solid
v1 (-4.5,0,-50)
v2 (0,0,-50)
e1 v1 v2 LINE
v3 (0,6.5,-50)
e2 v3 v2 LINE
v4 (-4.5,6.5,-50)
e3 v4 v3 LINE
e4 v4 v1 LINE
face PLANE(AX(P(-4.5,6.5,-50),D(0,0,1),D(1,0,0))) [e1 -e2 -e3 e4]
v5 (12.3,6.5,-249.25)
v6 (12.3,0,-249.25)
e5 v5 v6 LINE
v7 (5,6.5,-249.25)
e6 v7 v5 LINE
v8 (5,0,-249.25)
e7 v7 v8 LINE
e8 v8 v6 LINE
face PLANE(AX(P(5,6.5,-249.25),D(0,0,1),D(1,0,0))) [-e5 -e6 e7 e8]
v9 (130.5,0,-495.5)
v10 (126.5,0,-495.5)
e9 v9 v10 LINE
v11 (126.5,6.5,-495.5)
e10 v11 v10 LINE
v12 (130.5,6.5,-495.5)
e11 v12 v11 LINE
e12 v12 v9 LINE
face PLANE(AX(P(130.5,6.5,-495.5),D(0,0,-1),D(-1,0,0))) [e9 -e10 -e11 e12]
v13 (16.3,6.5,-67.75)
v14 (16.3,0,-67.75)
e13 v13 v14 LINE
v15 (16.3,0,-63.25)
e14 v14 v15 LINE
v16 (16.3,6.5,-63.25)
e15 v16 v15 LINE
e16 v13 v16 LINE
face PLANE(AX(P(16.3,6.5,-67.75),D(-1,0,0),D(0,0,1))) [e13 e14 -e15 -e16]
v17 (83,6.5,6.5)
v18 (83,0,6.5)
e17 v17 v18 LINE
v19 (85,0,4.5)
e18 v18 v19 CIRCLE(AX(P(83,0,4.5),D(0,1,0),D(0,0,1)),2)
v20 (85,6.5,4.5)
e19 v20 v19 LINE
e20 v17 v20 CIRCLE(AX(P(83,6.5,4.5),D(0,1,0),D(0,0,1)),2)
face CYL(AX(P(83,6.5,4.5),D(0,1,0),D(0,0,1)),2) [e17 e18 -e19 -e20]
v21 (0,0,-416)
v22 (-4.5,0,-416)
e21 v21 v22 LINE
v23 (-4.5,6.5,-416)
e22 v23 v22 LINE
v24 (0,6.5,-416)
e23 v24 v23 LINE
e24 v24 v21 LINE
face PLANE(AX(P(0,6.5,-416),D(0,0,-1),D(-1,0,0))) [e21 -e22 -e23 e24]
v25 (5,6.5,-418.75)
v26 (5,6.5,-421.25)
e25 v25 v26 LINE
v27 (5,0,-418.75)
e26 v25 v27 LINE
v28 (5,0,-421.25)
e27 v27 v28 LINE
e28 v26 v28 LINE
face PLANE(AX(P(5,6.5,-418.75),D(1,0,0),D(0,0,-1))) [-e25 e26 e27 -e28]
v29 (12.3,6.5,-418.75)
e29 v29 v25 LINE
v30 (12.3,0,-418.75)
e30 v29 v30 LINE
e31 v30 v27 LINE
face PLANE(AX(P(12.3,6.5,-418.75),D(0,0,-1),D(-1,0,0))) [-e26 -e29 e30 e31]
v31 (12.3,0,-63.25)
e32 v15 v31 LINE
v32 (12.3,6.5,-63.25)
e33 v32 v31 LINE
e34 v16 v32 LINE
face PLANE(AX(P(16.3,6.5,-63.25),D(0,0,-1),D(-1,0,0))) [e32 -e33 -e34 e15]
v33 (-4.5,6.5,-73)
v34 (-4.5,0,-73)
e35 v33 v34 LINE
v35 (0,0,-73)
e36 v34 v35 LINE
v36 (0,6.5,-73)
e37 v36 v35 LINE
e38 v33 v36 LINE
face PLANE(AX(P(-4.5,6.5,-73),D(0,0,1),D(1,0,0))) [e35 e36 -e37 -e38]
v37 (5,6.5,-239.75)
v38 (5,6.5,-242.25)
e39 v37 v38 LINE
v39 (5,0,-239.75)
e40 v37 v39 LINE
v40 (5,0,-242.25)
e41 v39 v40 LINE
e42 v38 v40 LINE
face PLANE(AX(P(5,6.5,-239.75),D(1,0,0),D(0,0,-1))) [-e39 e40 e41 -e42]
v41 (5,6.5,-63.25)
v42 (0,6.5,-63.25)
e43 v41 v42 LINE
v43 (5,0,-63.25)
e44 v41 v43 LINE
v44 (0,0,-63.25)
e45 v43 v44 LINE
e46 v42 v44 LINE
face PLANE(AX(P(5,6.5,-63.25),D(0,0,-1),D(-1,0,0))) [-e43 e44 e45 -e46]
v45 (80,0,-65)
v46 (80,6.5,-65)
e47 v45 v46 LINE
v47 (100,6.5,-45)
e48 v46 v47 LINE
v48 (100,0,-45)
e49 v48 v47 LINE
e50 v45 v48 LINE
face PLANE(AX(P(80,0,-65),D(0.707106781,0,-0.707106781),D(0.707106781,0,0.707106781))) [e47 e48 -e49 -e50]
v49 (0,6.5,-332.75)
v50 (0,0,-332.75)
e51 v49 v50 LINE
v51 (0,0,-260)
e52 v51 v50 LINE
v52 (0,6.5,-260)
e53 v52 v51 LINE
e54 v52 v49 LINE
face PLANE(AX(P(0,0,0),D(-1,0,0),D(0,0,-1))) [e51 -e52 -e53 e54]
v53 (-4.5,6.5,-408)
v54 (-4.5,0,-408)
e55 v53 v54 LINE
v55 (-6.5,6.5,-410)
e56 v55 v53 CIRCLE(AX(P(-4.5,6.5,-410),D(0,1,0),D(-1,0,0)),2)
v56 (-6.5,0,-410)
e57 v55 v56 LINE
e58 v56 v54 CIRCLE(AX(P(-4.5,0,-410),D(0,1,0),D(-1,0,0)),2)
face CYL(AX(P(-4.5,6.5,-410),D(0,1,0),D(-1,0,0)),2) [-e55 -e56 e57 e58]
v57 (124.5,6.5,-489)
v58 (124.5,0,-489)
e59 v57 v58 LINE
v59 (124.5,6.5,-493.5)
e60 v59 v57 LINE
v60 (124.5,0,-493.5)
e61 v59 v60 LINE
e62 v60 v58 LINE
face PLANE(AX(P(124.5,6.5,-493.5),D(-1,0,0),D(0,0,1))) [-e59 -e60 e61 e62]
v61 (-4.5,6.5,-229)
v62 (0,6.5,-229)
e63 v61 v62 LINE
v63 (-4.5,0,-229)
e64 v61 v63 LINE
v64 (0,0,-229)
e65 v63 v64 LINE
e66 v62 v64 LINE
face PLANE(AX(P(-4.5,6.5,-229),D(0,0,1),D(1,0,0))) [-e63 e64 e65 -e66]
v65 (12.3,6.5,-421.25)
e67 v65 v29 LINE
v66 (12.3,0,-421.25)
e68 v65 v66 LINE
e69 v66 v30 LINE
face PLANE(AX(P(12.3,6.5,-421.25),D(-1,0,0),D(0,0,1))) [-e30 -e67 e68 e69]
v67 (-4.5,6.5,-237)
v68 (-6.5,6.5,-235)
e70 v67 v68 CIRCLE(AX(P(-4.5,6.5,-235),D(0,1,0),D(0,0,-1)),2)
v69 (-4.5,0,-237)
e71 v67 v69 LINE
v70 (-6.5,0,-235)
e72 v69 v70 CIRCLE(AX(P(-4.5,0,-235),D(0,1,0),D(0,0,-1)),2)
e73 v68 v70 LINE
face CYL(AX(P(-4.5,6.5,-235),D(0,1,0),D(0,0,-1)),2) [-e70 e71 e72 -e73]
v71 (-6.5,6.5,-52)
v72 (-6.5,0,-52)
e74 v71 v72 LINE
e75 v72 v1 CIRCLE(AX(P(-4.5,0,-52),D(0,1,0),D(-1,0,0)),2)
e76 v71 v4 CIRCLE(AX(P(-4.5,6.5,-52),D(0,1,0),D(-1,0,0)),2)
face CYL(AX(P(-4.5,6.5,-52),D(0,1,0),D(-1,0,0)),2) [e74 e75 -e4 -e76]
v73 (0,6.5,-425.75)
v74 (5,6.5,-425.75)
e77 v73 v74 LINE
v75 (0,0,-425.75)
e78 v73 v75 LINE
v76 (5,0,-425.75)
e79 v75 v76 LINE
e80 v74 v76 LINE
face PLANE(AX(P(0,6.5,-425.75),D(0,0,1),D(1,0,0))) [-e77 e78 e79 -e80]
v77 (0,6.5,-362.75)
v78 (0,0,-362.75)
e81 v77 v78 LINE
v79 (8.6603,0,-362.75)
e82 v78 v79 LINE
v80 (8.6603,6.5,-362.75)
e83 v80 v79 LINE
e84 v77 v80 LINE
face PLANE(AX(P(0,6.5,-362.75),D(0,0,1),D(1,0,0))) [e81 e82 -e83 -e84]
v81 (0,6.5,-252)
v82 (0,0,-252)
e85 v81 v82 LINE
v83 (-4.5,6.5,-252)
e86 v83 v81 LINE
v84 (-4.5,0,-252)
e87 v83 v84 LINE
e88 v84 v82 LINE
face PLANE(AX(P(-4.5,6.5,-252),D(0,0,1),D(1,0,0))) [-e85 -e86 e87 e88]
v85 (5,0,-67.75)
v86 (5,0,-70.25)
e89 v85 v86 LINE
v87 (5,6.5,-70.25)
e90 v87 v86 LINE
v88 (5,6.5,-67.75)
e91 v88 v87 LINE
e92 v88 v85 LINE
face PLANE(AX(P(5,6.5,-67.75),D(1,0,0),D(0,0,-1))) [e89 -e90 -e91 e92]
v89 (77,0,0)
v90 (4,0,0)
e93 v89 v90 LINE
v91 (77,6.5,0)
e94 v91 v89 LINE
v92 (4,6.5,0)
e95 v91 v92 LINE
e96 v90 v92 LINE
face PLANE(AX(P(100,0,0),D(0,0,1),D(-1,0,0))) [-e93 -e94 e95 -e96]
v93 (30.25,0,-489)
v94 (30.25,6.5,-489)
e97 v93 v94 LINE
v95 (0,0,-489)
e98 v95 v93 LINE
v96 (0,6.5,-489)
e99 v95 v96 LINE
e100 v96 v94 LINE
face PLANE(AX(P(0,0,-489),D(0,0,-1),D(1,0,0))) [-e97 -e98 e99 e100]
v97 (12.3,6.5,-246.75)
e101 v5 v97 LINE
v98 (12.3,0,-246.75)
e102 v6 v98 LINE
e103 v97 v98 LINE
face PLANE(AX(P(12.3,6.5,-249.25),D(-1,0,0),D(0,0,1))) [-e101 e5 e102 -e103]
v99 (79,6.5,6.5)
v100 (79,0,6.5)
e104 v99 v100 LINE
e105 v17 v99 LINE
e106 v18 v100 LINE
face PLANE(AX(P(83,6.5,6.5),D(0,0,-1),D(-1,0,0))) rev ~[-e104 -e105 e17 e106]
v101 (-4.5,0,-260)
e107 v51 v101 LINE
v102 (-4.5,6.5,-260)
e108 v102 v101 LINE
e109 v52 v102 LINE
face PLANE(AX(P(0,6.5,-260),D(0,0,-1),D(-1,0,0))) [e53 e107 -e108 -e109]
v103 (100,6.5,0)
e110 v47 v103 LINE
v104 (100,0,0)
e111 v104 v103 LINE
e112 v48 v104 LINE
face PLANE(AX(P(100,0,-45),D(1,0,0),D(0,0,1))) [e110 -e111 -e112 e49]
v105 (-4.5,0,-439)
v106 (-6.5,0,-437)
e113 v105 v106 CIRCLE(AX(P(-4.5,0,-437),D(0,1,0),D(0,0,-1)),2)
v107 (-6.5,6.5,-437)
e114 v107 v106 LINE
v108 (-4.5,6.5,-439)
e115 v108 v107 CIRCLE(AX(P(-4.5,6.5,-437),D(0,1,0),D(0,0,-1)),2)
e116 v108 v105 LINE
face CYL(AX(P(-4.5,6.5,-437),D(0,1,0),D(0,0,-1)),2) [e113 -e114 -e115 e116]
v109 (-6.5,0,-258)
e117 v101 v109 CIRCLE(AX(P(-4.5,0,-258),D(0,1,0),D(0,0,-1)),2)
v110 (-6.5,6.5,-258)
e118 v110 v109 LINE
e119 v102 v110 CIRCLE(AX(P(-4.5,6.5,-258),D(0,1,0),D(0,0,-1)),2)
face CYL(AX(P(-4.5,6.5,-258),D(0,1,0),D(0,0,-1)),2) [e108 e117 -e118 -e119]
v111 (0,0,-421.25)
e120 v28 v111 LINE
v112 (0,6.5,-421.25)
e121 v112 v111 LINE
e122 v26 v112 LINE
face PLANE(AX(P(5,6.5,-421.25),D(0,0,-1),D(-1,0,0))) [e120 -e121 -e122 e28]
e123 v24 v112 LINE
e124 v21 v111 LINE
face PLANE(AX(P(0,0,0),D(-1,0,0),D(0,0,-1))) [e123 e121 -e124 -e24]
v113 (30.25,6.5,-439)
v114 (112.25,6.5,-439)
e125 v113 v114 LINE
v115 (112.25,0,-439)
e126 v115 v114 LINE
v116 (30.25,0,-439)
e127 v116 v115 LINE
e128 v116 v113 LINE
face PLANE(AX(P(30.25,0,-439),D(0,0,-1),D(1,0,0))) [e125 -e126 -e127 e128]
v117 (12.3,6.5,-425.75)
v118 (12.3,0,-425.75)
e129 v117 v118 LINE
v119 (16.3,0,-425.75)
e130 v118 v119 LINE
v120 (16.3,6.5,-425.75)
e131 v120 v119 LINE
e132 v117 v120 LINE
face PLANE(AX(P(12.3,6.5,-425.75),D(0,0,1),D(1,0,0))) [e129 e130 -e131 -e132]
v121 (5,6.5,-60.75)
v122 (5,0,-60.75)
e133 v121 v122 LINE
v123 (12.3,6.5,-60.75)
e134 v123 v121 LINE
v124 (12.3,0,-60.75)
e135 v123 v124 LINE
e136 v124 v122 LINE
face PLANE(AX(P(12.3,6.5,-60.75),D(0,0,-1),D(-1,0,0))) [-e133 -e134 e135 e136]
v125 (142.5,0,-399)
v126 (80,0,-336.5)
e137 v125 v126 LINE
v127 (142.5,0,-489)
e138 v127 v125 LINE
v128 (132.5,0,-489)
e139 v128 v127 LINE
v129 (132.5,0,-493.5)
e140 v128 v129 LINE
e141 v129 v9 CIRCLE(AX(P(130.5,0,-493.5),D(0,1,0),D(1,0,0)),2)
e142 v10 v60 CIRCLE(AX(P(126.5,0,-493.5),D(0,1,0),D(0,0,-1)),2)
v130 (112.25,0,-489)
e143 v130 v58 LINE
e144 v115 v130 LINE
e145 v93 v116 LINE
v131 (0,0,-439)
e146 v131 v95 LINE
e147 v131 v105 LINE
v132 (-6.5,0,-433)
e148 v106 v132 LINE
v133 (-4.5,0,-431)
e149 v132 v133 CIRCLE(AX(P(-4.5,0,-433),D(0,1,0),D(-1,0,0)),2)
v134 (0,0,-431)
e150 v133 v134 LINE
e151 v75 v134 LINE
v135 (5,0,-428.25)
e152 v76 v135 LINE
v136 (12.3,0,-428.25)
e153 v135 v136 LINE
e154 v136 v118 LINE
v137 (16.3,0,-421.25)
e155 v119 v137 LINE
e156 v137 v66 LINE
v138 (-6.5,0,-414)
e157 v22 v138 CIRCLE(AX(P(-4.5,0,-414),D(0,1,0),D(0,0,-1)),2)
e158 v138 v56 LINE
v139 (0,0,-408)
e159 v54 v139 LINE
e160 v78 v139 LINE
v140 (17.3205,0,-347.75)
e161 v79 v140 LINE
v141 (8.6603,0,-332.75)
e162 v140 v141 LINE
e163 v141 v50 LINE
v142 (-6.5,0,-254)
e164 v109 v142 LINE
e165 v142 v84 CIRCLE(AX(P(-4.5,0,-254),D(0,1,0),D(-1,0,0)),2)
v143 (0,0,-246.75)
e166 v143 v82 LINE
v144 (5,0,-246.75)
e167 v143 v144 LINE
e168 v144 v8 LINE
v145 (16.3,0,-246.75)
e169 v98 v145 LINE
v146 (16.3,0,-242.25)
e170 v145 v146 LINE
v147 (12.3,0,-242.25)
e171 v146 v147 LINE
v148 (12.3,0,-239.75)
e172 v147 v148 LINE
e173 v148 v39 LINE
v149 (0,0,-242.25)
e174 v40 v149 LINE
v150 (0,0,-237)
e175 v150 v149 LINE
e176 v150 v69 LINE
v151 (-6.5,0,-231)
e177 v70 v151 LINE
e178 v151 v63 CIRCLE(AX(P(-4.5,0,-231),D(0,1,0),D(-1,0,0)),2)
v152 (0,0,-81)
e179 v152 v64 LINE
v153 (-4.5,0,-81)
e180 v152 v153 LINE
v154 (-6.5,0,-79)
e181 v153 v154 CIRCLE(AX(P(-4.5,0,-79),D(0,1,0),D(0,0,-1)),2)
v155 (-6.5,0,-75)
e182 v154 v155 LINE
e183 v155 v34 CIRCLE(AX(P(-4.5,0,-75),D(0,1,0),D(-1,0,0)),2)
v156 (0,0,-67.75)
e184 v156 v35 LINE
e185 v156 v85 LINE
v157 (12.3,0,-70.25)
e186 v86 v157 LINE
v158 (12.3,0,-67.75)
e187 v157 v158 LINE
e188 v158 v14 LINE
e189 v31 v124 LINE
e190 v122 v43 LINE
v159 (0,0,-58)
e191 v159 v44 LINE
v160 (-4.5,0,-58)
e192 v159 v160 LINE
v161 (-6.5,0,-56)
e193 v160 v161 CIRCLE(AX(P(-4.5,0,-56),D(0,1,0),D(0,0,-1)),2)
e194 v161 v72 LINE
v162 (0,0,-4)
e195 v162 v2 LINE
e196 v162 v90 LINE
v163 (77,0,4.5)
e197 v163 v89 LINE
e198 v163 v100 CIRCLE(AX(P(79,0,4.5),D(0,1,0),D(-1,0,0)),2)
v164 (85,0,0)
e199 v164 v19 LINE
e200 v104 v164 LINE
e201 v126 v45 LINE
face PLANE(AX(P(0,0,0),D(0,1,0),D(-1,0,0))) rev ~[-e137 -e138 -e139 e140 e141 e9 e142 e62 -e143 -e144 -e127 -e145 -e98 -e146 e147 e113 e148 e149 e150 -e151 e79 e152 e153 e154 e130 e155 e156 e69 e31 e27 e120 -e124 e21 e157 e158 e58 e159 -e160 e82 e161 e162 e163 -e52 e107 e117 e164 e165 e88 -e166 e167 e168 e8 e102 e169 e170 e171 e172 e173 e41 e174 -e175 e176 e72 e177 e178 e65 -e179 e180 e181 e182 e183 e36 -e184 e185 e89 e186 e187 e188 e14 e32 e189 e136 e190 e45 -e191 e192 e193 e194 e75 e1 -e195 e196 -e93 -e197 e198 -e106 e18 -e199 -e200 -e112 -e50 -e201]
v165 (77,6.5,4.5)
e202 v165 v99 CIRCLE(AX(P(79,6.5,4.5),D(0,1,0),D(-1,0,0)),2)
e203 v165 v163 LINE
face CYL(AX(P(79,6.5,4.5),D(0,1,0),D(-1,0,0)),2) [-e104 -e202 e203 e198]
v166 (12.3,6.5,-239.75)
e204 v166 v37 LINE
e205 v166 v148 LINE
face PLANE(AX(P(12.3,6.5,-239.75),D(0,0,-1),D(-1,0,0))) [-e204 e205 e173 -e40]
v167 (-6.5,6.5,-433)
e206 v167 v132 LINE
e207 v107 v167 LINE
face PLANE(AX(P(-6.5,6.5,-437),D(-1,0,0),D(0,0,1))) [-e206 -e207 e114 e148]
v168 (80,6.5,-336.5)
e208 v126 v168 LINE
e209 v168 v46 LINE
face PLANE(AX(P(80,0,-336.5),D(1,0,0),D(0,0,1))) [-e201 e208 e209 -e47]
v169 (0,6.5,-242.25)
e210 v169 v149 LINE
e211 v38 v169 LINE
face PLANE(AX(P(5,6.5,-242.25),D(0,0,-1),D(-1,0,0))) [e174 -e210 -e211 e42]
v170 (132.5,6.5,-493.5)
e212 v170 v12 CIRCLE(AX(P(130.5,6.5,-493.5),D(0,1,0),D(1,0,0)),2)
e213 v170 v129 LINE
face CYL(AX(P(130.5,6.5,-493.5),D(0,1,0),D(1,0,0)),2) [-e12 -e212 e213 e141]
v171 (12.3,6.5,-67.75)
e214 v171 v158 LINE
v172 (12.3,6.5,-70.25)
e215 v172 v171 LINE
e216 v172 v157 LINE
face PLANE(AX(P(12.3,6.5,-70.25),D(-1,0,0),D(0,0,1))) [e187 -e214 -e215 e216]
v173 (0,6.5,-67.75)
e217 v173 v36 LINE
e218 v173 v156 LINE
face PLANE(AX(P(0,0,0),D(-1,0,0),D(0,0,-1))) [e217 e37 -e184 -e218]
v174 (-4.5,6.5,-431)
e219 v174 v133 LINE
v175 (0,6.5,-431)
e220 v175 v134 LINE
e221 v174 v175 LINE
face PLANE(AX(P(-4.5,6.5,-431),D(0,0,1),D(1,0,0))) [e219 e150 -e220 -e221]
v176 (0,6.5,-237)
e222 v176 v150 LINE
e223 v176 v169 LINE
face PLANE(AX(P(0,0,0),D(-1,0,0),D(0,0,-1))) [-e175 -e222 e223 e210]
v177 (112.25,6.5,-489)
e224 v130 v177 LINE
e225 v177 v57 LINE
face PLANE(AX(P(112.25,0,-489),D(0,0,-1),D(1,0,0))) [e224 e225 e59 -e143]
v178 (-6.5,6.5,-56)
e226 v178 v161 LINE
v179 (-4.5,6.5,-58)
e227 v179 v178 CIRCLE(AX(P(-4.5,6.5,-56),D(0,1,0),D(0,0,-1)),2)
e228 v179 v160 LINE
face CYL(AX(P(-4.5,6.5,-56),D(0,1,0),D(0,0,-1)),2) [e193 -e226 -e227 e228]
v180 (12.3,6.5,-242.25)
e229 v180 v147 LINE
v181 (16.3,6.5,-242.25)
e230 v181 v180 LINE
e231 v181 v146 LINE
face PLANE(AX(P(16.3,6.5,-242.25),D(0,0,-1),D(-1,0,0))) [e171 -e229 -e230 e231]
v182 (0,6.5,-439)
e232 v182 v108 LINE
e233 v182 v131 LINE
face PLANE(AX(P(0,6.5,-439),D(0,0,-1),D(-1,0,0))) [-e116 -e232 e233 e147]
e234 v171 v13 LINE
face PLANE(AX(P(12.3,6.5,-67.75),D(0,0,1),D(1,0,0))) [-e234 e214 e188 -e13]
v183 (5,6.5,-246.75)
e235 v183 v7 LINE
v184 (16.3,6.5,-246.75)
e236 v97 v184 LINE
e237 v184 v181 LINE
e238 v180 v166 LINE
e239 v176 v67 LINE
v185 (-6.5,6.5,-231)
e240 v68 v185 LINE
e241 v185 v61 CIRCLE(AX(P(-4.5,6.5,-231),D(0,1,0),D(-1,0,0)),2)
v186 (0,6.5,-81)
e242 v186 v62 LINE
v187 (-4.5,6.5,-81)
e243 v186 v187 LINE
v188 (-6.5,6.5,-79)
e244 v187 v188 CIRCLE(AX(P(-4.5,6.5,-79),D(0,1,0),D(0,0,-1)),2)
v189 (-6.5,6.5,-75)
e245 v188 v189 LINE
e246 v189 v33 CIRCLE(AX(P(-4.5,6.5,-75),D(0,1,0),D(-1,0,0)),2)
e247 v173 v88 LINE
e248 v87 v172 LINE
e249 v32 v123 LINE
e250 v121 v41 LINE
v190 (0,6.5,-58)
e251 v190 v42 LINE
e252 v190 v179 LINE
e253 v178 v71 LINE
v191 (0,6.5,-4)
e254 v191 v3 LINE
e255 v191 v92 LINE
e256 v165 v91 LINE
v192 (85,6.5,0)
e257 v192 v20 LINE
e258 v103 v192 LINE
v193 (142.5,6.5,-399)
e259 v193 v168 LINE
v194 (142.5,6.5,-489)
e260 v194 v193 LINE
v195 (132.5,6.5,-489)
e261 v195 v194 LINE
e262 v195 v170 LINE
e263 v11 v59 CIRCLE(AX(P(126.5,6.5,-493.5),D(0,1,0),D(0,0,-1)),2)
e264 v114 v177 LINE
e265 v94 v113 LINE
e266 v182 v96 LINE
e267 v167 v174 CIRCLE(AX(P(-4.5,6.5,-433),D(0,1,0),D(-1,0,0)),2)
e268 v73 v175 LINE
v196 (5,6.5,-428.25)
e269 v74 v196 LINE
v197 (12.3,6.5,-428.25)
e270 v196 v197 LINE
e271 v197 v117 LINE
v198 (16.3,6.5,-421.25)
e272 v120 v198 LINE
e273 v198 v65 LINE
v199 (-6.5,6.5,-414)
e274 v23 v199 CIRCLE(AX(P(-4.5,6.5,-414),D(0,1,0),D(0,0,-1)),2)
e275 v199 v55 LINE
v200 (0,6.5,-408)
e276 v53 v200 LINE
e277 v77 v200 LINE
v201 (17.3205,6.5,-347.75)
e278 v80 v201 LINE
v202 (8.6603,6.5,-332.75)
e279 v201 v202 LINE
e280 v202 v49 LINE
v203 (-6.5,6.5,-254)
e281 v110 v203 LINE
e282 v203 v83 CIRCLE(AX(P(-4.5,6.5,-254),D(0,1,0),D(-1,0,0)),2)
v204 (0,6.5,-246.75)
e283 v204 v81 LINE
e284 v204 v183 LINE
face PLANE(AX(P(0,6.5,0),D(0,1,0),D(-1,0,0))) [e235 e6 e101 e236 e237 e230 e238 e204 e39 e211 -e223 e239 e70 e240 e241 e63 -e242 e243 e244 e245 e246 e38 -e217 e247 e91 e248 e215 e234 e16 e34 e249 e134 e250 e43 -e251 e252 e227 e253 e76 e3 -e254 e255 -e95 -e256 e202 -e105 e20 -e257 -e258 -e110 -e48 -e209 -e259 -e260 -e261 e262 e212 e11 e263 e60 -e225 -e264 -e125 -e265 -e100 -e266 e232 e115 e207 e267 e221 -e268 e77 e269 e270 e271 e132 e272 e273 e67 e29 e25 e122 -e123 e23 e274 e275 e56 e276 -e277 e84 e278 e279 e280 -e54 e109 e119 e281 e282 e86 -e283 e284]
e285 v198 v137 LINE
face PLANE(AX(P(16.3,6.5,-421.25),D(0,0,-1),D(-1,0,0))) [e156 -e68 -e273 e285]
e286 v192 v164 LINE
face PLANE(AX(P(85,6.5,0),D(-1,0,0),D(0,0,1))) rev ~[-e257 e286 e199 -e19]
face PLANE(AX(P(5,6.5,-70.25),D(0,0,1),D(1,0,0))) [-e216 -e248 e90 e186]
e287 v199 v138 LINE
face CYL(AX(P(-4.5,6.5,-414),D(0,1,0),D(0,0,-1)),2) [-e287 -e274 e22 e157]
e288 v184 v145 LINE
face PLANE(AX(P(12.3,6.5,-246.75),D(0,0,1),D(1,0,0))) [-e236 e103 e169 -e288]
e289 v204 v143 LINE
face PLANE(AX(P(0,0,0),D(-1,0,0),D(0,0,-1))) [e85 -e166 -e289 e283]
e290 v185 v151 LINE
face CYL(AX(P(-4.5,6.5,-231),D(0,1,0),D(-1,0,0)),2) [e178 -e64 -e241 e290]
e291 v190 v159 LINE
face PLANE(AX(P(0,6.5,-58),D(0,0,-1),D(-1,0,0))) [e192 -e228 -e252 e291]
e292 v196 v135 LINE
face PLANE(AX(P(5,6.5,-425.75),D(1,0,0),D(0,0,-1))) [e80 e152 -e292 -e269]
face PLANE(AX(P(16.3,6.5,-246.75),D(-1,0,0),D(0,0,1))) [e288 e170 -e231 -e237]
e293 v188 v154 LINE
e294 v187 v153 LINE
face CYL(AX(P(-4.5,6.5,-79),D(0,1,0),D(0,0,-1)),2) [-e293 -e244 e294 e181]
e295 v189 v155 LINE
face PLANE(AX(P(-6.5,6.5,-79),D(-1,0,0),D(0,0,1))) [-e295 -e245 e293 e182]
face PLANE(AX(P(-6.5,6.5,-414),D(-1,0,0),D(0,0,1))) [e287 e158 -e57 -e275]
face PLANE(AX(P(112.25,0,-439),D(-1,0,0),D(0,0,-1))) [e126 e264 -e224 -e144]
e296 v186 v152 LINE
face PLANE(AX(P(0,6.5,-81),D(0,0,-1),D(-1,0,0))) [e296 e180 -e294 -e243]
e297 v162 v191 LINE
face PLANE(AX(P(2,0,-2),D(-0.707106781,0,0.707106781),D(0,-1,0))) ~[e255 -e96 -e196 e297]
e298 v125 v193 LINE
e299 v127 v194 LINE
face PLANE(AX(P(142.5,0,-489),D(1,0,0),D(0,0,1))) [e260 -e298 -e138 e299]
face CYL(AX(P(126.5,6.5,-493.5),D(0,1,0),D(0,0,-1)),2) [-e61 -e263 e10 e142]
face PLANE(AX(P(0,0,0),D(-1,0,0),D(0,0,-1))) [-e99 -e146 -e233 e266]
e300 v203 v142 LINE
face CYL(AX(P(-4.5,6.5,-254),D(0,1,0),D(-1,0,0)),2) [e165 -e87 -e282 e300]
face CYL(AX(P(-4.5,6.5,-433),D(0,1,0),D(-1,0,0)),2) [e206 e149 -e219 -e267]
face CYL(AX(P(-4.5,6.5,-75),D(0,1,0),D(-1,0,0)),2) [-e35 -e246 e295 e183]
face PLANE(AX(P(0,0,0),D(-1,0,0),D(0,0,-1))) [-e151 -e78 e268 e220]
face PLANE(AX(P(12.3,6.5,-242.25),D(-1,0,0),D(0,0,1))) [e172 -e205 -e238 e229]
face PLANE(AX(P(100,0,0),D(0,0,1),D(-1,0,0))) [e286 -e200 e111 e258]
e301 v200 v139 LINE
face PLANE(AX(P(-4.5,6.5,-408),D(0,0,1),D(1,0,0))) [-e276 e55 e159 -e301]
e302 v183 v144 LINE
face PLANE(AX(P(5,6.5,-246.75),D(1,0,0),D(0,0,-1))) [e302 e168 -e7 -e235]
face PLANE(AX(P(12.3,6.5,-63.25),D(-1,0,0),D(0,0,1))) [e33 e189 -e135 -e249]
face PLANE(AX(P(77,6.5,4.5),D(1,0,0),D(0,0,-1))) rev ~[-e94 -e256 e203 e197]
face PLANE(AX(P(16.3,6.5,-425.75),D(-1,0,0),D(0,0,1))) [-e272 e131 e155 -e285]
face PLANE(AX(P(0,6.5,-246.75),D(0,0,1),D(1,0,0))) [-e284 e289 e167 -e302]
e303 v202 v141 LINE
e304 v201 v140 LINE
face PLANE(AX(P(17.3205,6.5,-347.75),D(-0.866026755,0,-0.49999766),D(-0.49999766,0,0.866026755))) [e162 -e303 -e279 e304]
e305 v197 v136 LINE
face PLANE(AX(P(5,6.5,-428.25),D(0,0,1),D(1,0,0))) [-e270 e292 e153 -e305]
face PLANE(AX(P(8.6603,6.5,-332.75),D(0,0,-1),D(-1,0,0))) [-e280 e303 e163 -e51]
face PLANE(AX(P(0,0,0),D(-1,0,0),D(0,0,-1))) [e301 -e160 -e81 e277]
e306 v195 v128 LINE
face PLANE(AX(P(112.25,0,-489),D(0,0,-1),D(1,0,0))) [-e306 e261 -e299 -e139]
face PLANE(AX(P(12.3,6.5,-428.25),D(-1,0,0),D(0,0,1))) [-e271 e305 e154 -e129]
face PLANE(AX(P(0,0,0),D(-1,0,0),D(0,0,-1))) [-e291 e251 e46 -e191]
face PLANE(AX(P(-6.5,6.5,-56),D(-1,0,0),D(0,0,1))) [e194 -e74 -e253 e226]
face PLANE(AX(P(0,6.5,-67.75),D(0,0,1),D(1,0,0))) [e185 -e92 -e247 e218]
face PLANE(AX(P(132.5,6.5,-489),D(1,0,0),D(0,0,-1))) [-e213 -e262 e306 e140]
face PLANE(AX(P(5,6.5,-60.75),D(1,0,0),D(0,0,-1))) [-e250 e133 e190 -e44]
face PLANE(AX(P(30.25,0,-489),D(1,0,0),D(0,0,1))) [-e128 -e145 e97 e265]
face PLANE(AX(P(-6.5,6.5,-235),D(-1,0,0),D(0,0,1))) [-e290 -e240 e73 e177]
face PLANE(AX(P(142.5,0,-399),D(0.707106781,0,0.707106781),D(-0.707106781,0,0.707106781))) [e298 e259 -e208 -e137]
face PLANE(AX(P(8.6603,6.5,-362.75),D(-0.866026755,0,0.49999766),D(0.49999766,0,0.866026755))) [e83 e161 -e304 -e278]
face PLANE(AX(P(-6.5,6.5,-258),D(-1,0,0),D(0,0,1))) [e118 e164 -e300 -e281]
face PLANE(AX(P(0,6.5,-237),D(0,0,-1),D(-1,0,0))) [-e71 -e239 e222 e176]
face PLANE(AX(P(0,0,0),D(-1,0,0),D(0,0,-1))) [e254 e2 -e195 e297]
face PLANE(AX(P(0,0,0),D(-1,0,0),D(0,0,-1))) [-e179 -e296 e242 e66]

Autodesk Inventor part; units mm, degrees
ref_plane "YZ Plane" through (0, 0, 0) normal (1, 0, 0) x (0, 1, 0)
ref_plane "XZ Plane" through (0, 0, 0) normal (0, 1, 0) x (-1, 0, 0)
ref_plane "XY Plane" through (0, 0, 0) normal (0, 0, 1) x (1, 0, 0)
sketch "Sketch1" plane through (0, 0, 0) normal (0, 1, 0) x (-1, 0, 0)
  line L0 (0, 0) -> (0, -489)
  line L1 (0, -489) -> (-30.25, -489)
  line L2 (-30.25, -489) -> (-30.25, -439)
  line L3 (-30.25, -439) -> (-112.25, -439)
  line L4 (-112.25, -439) -> (-112.25, -489)
  line L5 (-112.25, -489) -> (-142.5, -489)
  line L6 (-142.5, -489) -> (-142.5, -399)
  line L7 (-142.5, -399) -> (-80, -336.5)
  line L8 (-80, -336.5) -> (-80, -65)
  line L9 (-80, -65) -> (-100, -45)
  line L10 (-100, -45) -> (-100, 0)
  line L11 (-100, 0) -> (0, 0)
  dimension "d0" = 135
  dimension "d1" = 100
  dimension "d2" = 489
  dimension "d3" = 45
  dimension "d4" = 20
  dimension "d5" = 30.25
  dimension "d6" = 50
  dimension "d7" = 82
  dimension "d8" = 40
extrude "Extrusion1" add sketch "Sketch1" along normal blind 6.5
sketch "Sketch2" plane through (0, 6.5, 0) normal (0, 1, 0) x (1, 0, 0)
  line L0 (0, 0) -> (100, 0) projected
  line L1 (30.25, 489) -> (0, 489) projected
  line L2 (0, 489) -> (0, 0) projected
  line L3 (16.3, 425.75) -> (16.3, 421.25)
  line L4 (0, 421.25) -> (0, 425.75)
  line L5 (5, 428.25) -> (12.3, 428.25)
  line L6 (12.3, 418.75) -> (5, 418.75)
  line L7 (0, 425.75) -> (5, 425.75)
  line L8 (12.3, 425.75) -> (16.3, 425.75)
  line L9 (16.3, 421.25) -> (12.3, 421.25)
  line L10 (5, 421.25) -> (0, 421.25)
  line L11 (5, 418.75) -> (5, 421.25)
  line L12 (5, 425.75) -> (5, 428.25)
  line L13 (12.3, 428.25) -> (12.3, 425.75)
  line L14 (12.3, 421.25) -> (12.3, 418.75)
  line L15 (16.3, 246.75) -> (16.3, 242.25)
  line L16 (0, 242.25) -> (0, 246.75)
  line L17 (5, 249.25) -> (12.3, 249.25)
  line L18 (12.3, 239.75) -> (5, 239.75)
  line L19 (0, 246.75) -> (5, 246.75)
  line L20 (12.3, 246.75) -> (16.3, 246.75)
  line L21 (16.3, 242.25) -> (12.3, 242.25)
  line L22 (5, 242.25) -> (0, 242.25)
  line L23 (5, 239.75) -> (5, 242.25)
  line L24 (5, 246.75) -> (5, 249.25)
  line L25 (12.3, 249.25) -> (12.3, 246.75)
  line L26 (12.3, 242.25) -> (12.3, 239.75)
  line L27 (16.3, 67.75) -> (16.3, 63.25)
  line L28 (0, 63.25) -> (0, 67.75)
  line L29 (5, 70.25) -> (12.3, 70.25)
  line L30 (12.3, 60.75) -> (5, 60.75)
  line L31 (0, 67.75) -> (5, 67.75)
  line L32 (12.3, 67.75) -> (16.3, 67.75)
  line L33 (16.3, 63.25) -> (12.3, 63.25)
  line L34 (5, 63.25) -> (0, 63.25)
  line L35 (5, 60.75) -> (5, 63.25)
  line L36 (5, 67.75) -> (5, 70.25)
  line L37 (12.3, 70.25) -> (12.3, 67.75)
  line L38 (12.3, 63.25) -> (12.3, 60.75)
  line L39 (8.65, 418.75) -> (8.65, 249.25) construction
  line L40 (8.65, 239.75) -> (8.65, 70.25) construction
  point P0 (16.3, 423.5)
  point P1 (16.3, 244.5)
  point P2 (16.3, 65.5)
  dimension "d11" = 4.5
  dimension "d12" = 5
  dimension "d13" = 4
  dimension "d14" = 7.3
  dimension "d15" = 2.5
  dimension "d16" = 4.5
  dimension "d17" = 5
  dimension "d18" = 4
  dimension "d19" = 7.3
  dimension "d20" = 2.5
  dimension "d21" = 4.5
  dimension "d22" = 5
  dimension "d23" = 4
  dimension "d24" = 7.3
  dimension "d25" = 2.5
  dimension "d26" = 65.5
  dimension "d27" = 65.5
extrude "Extrusion2" cut sketch "Sketch2" against normal through all
sketch "Sketch3" plane through (0, 6.5, 0) normal (0, 1, 0) x (1, 0, 0)
  line L0 (0, 242.25) -> (0, 67.75) projected
  line L1 (16.3, 67.75) -> (16.3, 63.25) projected
  line L2 (0, 63.25) -> (0, 0) projected
  line L3 (0, 489) -> (0, 425.75) projected
  line L4 (16.3, 425.75) -> (16.3, 421.25) projected
  line L5 (0, 421.25) -> (0, 246.75) projected
  line L6 (16.3, 246.75) -> (16.3, 242.25) projected
  line L7 (0, 439) -> (-4.5, 439)
  line L8 (-6.5, 437) -> (-6.5, 433)
  line L9 (-4.5, 431) -> (0, 431)
  line L10 (0, 431) -> (0, 439)
  line L11 (0, 416) -> (-4.5, 416)
  line L12 (-6.5, 414) -> (-6.5, 410)
  line L13 (-4.5, 408) -> (0, 408)
  line L14 (0, 408) -> (0, 416)
  line L15 (0, 260) -> (-4.5, 260)
  line L16 (-6.5, 258) -> (-6.5, 254)
  line L17 (-4.5, 252) -> (0, 252)
  line L18 (0, 252) -> (0, 260)
  line L19 (0, 237) -> (-4.5, 237)
  line L20 (-6.5, 235) -> (-6.5, 231)
  line L21 (-4.5, 229) -> (0, 229)
  line L22 (0, 229) -> (0, 237)
  line L23 (0, 81) -> (-4.5, 81)
  line L24 (-6.5, 79) -> (-6.5, 75)
  line L25 (-4.5, 73) -> (0, 73)
  line L26 (0, 73) -> (0, 81)
  line L27 (0, 58) -> (-4.5, 58)
  line L28 (-6.5, 56) -> (-6.5, 52)
  line L29 (-4.5, 50) -> (0, 50)
  line L30 (0, 50) -> (0, 58)
  arc A0 (-4.5, 439) -> (-6.5, 437) centre (-4.5, 437) ccw
  arc A1 (-6.5, 433) -> (-4.5, 431) centre (-4.5, 433) ccw
  arc A2 (-4.5, 416) -> (-6.5, 414) centre (-4.5, 414) ccw
  arc A3 (-6.5, 410) -> (-4.5, 408) centre (-4.5, 410) ccw
  arc A4 (-4.5, 260) -> (-6.5, 258) centre (-4.5, 258) ccw
  arc A5 (-6.5, 254) -> (-4.5, 252) centre (-4.5, 254) ccw
  arc A6 (-4.5, 237) -> (-6.5, 235) centre (-4.5, 235) ccw
  arc A7 (-6.5, 231) -> (-4.5, 229) centre (-4.5, 231) ccw
  arc A8 (-4.5, 81) -> (-6.5, 79) centre (-4.5, 79) ccw
  arc A9 (-6.5, 75) -> (-4.5, 73) centre (-4.5, 75) ccw
  arc A10 (-4.5, 58) -> (-6.5, 56) centre (-4.5, 56) ccw
  arc A11 (-6.5, 52) -> (-4.5, 50) centre (-4.5, 52) ccw
  point P0 (16.3, 423.5)
  point P1 (16.3, 244.5)
  point P2 (16.3, 65.5)
  dimension "d30" = 2
  dimension "d31" = 8
  dimension "d32" = 8
  dimension "d33" = 15
  dimension "d34" = 8
  dimension "d35" = 8
  dimension "d36" = 15
  dimension "d37" = 8
  dimension "d38" = 8
  dimension "d39" = 15
  dimension "d40" = 7.5
  dimension "d41" = 7.5
  dimension "d42" = 7.5
  dimension "d43" = 6.5
extrude "Extrusion3" add sketch "Sketch3" against normal blind 6.5
sketch "Sketch4" plane through (0, 6.5, 0) normal (0, 1, 0) x (1, 0, 0)
  line L0 (0, 0) -> (100, 0) projected
  line L1 (100, 0) -> (100, 45) projected
  line L2 (142.5, 399) -> (142.5, 489) projected
  line L3 (142.5, 489) -> (112.25, 489) projected
  line L4 (77, 0) -> (85, 0)
  line L5 (85, 0) -> (85, -4.5)
  line L6 (83, -6.5) -> (79, -6.5)
  line L7 (77, -4.5) -> (77, 0)
  line L8 (124.5, 489) -> (132.5, 489)
  line L9 (132.5, 489) -> (132.5, 493.5)
  line L10 (130.5, 495.5) -> (126.5, 495.5)
  line L11 (124.5, 493.5) -> (124.5, 489)
  arc A0 (126.5, 495.5) -> (124.5, 493.5) centre (126.5, 493.5) ccw
  arc A1 (132.5, 493.5) -> (130.5, 495.5) centre (130.5, 493.5) ccw
  arc A2 (83, -6.5) -> (85, -4.5) centre (83, -4.5) ccw
  arc A3 (77, -4.5) -> (79, -6.5) centre (79, -4.5) ccw
  dimension "d46" = 2
  dimension "d47" = 8
  dimension "d48" = 6.5
  dimension "d49" = 15
  dimension "d50" = 8
  dimension "d51" = 6.5
  dimension "d52" = 10
extrude "Extrusion4" add sketch "Sketch4" against normal blind 6.5
sketch "Sketch5" plane through (0, 6.5, 0) normal (0, 1, 0) x (1, 0, 0)
  line L0 (30.25, 489) -> (0, 489) projected
  line L1 (0, 408) -> (0, 260) projected
  line L2 (8.6603, 332.75) -> (0, 332.75)
  line L3 (0, 362.75) -> (8.6603, 362.75)
  line L4 (8.6603, 362.75) -> (17.3205, 347.75)
  line L5 (17.3205, 347.75) -> (8.6603, 332.75)
  line L6 (0, 362.75) -> (0, 332.75)
  point P0 (0, 347.75)
  dimension "d55" = 30
  dimension "d56" = 156.25
extrude "Extrusion5" cut sketch "Sketch5" against normal through all
chamfer "Chamfer1" distance 4 angle 45 1 edges at (0, 3.25, 0)
equation "\"d27\" = d26"
equation "\"d32\" = d31"
equation "\"d34\" = d32"
equation "\"d35\" = d34"
equation "\"d36\" = d33"
equation "\"d37\" = d35"
equation "\"d38\" = d37"
equation "\"d39\" = d36"
equation "\"d40\" = 0.5 * d39"
equation "\"d41\" = d40"
equation "\"d42\" = d41"
equation "\"d50\" = d47"
equation "\"d51\" = d48"
properties part number "inner_brace_left" material "Plywood, Finish"
